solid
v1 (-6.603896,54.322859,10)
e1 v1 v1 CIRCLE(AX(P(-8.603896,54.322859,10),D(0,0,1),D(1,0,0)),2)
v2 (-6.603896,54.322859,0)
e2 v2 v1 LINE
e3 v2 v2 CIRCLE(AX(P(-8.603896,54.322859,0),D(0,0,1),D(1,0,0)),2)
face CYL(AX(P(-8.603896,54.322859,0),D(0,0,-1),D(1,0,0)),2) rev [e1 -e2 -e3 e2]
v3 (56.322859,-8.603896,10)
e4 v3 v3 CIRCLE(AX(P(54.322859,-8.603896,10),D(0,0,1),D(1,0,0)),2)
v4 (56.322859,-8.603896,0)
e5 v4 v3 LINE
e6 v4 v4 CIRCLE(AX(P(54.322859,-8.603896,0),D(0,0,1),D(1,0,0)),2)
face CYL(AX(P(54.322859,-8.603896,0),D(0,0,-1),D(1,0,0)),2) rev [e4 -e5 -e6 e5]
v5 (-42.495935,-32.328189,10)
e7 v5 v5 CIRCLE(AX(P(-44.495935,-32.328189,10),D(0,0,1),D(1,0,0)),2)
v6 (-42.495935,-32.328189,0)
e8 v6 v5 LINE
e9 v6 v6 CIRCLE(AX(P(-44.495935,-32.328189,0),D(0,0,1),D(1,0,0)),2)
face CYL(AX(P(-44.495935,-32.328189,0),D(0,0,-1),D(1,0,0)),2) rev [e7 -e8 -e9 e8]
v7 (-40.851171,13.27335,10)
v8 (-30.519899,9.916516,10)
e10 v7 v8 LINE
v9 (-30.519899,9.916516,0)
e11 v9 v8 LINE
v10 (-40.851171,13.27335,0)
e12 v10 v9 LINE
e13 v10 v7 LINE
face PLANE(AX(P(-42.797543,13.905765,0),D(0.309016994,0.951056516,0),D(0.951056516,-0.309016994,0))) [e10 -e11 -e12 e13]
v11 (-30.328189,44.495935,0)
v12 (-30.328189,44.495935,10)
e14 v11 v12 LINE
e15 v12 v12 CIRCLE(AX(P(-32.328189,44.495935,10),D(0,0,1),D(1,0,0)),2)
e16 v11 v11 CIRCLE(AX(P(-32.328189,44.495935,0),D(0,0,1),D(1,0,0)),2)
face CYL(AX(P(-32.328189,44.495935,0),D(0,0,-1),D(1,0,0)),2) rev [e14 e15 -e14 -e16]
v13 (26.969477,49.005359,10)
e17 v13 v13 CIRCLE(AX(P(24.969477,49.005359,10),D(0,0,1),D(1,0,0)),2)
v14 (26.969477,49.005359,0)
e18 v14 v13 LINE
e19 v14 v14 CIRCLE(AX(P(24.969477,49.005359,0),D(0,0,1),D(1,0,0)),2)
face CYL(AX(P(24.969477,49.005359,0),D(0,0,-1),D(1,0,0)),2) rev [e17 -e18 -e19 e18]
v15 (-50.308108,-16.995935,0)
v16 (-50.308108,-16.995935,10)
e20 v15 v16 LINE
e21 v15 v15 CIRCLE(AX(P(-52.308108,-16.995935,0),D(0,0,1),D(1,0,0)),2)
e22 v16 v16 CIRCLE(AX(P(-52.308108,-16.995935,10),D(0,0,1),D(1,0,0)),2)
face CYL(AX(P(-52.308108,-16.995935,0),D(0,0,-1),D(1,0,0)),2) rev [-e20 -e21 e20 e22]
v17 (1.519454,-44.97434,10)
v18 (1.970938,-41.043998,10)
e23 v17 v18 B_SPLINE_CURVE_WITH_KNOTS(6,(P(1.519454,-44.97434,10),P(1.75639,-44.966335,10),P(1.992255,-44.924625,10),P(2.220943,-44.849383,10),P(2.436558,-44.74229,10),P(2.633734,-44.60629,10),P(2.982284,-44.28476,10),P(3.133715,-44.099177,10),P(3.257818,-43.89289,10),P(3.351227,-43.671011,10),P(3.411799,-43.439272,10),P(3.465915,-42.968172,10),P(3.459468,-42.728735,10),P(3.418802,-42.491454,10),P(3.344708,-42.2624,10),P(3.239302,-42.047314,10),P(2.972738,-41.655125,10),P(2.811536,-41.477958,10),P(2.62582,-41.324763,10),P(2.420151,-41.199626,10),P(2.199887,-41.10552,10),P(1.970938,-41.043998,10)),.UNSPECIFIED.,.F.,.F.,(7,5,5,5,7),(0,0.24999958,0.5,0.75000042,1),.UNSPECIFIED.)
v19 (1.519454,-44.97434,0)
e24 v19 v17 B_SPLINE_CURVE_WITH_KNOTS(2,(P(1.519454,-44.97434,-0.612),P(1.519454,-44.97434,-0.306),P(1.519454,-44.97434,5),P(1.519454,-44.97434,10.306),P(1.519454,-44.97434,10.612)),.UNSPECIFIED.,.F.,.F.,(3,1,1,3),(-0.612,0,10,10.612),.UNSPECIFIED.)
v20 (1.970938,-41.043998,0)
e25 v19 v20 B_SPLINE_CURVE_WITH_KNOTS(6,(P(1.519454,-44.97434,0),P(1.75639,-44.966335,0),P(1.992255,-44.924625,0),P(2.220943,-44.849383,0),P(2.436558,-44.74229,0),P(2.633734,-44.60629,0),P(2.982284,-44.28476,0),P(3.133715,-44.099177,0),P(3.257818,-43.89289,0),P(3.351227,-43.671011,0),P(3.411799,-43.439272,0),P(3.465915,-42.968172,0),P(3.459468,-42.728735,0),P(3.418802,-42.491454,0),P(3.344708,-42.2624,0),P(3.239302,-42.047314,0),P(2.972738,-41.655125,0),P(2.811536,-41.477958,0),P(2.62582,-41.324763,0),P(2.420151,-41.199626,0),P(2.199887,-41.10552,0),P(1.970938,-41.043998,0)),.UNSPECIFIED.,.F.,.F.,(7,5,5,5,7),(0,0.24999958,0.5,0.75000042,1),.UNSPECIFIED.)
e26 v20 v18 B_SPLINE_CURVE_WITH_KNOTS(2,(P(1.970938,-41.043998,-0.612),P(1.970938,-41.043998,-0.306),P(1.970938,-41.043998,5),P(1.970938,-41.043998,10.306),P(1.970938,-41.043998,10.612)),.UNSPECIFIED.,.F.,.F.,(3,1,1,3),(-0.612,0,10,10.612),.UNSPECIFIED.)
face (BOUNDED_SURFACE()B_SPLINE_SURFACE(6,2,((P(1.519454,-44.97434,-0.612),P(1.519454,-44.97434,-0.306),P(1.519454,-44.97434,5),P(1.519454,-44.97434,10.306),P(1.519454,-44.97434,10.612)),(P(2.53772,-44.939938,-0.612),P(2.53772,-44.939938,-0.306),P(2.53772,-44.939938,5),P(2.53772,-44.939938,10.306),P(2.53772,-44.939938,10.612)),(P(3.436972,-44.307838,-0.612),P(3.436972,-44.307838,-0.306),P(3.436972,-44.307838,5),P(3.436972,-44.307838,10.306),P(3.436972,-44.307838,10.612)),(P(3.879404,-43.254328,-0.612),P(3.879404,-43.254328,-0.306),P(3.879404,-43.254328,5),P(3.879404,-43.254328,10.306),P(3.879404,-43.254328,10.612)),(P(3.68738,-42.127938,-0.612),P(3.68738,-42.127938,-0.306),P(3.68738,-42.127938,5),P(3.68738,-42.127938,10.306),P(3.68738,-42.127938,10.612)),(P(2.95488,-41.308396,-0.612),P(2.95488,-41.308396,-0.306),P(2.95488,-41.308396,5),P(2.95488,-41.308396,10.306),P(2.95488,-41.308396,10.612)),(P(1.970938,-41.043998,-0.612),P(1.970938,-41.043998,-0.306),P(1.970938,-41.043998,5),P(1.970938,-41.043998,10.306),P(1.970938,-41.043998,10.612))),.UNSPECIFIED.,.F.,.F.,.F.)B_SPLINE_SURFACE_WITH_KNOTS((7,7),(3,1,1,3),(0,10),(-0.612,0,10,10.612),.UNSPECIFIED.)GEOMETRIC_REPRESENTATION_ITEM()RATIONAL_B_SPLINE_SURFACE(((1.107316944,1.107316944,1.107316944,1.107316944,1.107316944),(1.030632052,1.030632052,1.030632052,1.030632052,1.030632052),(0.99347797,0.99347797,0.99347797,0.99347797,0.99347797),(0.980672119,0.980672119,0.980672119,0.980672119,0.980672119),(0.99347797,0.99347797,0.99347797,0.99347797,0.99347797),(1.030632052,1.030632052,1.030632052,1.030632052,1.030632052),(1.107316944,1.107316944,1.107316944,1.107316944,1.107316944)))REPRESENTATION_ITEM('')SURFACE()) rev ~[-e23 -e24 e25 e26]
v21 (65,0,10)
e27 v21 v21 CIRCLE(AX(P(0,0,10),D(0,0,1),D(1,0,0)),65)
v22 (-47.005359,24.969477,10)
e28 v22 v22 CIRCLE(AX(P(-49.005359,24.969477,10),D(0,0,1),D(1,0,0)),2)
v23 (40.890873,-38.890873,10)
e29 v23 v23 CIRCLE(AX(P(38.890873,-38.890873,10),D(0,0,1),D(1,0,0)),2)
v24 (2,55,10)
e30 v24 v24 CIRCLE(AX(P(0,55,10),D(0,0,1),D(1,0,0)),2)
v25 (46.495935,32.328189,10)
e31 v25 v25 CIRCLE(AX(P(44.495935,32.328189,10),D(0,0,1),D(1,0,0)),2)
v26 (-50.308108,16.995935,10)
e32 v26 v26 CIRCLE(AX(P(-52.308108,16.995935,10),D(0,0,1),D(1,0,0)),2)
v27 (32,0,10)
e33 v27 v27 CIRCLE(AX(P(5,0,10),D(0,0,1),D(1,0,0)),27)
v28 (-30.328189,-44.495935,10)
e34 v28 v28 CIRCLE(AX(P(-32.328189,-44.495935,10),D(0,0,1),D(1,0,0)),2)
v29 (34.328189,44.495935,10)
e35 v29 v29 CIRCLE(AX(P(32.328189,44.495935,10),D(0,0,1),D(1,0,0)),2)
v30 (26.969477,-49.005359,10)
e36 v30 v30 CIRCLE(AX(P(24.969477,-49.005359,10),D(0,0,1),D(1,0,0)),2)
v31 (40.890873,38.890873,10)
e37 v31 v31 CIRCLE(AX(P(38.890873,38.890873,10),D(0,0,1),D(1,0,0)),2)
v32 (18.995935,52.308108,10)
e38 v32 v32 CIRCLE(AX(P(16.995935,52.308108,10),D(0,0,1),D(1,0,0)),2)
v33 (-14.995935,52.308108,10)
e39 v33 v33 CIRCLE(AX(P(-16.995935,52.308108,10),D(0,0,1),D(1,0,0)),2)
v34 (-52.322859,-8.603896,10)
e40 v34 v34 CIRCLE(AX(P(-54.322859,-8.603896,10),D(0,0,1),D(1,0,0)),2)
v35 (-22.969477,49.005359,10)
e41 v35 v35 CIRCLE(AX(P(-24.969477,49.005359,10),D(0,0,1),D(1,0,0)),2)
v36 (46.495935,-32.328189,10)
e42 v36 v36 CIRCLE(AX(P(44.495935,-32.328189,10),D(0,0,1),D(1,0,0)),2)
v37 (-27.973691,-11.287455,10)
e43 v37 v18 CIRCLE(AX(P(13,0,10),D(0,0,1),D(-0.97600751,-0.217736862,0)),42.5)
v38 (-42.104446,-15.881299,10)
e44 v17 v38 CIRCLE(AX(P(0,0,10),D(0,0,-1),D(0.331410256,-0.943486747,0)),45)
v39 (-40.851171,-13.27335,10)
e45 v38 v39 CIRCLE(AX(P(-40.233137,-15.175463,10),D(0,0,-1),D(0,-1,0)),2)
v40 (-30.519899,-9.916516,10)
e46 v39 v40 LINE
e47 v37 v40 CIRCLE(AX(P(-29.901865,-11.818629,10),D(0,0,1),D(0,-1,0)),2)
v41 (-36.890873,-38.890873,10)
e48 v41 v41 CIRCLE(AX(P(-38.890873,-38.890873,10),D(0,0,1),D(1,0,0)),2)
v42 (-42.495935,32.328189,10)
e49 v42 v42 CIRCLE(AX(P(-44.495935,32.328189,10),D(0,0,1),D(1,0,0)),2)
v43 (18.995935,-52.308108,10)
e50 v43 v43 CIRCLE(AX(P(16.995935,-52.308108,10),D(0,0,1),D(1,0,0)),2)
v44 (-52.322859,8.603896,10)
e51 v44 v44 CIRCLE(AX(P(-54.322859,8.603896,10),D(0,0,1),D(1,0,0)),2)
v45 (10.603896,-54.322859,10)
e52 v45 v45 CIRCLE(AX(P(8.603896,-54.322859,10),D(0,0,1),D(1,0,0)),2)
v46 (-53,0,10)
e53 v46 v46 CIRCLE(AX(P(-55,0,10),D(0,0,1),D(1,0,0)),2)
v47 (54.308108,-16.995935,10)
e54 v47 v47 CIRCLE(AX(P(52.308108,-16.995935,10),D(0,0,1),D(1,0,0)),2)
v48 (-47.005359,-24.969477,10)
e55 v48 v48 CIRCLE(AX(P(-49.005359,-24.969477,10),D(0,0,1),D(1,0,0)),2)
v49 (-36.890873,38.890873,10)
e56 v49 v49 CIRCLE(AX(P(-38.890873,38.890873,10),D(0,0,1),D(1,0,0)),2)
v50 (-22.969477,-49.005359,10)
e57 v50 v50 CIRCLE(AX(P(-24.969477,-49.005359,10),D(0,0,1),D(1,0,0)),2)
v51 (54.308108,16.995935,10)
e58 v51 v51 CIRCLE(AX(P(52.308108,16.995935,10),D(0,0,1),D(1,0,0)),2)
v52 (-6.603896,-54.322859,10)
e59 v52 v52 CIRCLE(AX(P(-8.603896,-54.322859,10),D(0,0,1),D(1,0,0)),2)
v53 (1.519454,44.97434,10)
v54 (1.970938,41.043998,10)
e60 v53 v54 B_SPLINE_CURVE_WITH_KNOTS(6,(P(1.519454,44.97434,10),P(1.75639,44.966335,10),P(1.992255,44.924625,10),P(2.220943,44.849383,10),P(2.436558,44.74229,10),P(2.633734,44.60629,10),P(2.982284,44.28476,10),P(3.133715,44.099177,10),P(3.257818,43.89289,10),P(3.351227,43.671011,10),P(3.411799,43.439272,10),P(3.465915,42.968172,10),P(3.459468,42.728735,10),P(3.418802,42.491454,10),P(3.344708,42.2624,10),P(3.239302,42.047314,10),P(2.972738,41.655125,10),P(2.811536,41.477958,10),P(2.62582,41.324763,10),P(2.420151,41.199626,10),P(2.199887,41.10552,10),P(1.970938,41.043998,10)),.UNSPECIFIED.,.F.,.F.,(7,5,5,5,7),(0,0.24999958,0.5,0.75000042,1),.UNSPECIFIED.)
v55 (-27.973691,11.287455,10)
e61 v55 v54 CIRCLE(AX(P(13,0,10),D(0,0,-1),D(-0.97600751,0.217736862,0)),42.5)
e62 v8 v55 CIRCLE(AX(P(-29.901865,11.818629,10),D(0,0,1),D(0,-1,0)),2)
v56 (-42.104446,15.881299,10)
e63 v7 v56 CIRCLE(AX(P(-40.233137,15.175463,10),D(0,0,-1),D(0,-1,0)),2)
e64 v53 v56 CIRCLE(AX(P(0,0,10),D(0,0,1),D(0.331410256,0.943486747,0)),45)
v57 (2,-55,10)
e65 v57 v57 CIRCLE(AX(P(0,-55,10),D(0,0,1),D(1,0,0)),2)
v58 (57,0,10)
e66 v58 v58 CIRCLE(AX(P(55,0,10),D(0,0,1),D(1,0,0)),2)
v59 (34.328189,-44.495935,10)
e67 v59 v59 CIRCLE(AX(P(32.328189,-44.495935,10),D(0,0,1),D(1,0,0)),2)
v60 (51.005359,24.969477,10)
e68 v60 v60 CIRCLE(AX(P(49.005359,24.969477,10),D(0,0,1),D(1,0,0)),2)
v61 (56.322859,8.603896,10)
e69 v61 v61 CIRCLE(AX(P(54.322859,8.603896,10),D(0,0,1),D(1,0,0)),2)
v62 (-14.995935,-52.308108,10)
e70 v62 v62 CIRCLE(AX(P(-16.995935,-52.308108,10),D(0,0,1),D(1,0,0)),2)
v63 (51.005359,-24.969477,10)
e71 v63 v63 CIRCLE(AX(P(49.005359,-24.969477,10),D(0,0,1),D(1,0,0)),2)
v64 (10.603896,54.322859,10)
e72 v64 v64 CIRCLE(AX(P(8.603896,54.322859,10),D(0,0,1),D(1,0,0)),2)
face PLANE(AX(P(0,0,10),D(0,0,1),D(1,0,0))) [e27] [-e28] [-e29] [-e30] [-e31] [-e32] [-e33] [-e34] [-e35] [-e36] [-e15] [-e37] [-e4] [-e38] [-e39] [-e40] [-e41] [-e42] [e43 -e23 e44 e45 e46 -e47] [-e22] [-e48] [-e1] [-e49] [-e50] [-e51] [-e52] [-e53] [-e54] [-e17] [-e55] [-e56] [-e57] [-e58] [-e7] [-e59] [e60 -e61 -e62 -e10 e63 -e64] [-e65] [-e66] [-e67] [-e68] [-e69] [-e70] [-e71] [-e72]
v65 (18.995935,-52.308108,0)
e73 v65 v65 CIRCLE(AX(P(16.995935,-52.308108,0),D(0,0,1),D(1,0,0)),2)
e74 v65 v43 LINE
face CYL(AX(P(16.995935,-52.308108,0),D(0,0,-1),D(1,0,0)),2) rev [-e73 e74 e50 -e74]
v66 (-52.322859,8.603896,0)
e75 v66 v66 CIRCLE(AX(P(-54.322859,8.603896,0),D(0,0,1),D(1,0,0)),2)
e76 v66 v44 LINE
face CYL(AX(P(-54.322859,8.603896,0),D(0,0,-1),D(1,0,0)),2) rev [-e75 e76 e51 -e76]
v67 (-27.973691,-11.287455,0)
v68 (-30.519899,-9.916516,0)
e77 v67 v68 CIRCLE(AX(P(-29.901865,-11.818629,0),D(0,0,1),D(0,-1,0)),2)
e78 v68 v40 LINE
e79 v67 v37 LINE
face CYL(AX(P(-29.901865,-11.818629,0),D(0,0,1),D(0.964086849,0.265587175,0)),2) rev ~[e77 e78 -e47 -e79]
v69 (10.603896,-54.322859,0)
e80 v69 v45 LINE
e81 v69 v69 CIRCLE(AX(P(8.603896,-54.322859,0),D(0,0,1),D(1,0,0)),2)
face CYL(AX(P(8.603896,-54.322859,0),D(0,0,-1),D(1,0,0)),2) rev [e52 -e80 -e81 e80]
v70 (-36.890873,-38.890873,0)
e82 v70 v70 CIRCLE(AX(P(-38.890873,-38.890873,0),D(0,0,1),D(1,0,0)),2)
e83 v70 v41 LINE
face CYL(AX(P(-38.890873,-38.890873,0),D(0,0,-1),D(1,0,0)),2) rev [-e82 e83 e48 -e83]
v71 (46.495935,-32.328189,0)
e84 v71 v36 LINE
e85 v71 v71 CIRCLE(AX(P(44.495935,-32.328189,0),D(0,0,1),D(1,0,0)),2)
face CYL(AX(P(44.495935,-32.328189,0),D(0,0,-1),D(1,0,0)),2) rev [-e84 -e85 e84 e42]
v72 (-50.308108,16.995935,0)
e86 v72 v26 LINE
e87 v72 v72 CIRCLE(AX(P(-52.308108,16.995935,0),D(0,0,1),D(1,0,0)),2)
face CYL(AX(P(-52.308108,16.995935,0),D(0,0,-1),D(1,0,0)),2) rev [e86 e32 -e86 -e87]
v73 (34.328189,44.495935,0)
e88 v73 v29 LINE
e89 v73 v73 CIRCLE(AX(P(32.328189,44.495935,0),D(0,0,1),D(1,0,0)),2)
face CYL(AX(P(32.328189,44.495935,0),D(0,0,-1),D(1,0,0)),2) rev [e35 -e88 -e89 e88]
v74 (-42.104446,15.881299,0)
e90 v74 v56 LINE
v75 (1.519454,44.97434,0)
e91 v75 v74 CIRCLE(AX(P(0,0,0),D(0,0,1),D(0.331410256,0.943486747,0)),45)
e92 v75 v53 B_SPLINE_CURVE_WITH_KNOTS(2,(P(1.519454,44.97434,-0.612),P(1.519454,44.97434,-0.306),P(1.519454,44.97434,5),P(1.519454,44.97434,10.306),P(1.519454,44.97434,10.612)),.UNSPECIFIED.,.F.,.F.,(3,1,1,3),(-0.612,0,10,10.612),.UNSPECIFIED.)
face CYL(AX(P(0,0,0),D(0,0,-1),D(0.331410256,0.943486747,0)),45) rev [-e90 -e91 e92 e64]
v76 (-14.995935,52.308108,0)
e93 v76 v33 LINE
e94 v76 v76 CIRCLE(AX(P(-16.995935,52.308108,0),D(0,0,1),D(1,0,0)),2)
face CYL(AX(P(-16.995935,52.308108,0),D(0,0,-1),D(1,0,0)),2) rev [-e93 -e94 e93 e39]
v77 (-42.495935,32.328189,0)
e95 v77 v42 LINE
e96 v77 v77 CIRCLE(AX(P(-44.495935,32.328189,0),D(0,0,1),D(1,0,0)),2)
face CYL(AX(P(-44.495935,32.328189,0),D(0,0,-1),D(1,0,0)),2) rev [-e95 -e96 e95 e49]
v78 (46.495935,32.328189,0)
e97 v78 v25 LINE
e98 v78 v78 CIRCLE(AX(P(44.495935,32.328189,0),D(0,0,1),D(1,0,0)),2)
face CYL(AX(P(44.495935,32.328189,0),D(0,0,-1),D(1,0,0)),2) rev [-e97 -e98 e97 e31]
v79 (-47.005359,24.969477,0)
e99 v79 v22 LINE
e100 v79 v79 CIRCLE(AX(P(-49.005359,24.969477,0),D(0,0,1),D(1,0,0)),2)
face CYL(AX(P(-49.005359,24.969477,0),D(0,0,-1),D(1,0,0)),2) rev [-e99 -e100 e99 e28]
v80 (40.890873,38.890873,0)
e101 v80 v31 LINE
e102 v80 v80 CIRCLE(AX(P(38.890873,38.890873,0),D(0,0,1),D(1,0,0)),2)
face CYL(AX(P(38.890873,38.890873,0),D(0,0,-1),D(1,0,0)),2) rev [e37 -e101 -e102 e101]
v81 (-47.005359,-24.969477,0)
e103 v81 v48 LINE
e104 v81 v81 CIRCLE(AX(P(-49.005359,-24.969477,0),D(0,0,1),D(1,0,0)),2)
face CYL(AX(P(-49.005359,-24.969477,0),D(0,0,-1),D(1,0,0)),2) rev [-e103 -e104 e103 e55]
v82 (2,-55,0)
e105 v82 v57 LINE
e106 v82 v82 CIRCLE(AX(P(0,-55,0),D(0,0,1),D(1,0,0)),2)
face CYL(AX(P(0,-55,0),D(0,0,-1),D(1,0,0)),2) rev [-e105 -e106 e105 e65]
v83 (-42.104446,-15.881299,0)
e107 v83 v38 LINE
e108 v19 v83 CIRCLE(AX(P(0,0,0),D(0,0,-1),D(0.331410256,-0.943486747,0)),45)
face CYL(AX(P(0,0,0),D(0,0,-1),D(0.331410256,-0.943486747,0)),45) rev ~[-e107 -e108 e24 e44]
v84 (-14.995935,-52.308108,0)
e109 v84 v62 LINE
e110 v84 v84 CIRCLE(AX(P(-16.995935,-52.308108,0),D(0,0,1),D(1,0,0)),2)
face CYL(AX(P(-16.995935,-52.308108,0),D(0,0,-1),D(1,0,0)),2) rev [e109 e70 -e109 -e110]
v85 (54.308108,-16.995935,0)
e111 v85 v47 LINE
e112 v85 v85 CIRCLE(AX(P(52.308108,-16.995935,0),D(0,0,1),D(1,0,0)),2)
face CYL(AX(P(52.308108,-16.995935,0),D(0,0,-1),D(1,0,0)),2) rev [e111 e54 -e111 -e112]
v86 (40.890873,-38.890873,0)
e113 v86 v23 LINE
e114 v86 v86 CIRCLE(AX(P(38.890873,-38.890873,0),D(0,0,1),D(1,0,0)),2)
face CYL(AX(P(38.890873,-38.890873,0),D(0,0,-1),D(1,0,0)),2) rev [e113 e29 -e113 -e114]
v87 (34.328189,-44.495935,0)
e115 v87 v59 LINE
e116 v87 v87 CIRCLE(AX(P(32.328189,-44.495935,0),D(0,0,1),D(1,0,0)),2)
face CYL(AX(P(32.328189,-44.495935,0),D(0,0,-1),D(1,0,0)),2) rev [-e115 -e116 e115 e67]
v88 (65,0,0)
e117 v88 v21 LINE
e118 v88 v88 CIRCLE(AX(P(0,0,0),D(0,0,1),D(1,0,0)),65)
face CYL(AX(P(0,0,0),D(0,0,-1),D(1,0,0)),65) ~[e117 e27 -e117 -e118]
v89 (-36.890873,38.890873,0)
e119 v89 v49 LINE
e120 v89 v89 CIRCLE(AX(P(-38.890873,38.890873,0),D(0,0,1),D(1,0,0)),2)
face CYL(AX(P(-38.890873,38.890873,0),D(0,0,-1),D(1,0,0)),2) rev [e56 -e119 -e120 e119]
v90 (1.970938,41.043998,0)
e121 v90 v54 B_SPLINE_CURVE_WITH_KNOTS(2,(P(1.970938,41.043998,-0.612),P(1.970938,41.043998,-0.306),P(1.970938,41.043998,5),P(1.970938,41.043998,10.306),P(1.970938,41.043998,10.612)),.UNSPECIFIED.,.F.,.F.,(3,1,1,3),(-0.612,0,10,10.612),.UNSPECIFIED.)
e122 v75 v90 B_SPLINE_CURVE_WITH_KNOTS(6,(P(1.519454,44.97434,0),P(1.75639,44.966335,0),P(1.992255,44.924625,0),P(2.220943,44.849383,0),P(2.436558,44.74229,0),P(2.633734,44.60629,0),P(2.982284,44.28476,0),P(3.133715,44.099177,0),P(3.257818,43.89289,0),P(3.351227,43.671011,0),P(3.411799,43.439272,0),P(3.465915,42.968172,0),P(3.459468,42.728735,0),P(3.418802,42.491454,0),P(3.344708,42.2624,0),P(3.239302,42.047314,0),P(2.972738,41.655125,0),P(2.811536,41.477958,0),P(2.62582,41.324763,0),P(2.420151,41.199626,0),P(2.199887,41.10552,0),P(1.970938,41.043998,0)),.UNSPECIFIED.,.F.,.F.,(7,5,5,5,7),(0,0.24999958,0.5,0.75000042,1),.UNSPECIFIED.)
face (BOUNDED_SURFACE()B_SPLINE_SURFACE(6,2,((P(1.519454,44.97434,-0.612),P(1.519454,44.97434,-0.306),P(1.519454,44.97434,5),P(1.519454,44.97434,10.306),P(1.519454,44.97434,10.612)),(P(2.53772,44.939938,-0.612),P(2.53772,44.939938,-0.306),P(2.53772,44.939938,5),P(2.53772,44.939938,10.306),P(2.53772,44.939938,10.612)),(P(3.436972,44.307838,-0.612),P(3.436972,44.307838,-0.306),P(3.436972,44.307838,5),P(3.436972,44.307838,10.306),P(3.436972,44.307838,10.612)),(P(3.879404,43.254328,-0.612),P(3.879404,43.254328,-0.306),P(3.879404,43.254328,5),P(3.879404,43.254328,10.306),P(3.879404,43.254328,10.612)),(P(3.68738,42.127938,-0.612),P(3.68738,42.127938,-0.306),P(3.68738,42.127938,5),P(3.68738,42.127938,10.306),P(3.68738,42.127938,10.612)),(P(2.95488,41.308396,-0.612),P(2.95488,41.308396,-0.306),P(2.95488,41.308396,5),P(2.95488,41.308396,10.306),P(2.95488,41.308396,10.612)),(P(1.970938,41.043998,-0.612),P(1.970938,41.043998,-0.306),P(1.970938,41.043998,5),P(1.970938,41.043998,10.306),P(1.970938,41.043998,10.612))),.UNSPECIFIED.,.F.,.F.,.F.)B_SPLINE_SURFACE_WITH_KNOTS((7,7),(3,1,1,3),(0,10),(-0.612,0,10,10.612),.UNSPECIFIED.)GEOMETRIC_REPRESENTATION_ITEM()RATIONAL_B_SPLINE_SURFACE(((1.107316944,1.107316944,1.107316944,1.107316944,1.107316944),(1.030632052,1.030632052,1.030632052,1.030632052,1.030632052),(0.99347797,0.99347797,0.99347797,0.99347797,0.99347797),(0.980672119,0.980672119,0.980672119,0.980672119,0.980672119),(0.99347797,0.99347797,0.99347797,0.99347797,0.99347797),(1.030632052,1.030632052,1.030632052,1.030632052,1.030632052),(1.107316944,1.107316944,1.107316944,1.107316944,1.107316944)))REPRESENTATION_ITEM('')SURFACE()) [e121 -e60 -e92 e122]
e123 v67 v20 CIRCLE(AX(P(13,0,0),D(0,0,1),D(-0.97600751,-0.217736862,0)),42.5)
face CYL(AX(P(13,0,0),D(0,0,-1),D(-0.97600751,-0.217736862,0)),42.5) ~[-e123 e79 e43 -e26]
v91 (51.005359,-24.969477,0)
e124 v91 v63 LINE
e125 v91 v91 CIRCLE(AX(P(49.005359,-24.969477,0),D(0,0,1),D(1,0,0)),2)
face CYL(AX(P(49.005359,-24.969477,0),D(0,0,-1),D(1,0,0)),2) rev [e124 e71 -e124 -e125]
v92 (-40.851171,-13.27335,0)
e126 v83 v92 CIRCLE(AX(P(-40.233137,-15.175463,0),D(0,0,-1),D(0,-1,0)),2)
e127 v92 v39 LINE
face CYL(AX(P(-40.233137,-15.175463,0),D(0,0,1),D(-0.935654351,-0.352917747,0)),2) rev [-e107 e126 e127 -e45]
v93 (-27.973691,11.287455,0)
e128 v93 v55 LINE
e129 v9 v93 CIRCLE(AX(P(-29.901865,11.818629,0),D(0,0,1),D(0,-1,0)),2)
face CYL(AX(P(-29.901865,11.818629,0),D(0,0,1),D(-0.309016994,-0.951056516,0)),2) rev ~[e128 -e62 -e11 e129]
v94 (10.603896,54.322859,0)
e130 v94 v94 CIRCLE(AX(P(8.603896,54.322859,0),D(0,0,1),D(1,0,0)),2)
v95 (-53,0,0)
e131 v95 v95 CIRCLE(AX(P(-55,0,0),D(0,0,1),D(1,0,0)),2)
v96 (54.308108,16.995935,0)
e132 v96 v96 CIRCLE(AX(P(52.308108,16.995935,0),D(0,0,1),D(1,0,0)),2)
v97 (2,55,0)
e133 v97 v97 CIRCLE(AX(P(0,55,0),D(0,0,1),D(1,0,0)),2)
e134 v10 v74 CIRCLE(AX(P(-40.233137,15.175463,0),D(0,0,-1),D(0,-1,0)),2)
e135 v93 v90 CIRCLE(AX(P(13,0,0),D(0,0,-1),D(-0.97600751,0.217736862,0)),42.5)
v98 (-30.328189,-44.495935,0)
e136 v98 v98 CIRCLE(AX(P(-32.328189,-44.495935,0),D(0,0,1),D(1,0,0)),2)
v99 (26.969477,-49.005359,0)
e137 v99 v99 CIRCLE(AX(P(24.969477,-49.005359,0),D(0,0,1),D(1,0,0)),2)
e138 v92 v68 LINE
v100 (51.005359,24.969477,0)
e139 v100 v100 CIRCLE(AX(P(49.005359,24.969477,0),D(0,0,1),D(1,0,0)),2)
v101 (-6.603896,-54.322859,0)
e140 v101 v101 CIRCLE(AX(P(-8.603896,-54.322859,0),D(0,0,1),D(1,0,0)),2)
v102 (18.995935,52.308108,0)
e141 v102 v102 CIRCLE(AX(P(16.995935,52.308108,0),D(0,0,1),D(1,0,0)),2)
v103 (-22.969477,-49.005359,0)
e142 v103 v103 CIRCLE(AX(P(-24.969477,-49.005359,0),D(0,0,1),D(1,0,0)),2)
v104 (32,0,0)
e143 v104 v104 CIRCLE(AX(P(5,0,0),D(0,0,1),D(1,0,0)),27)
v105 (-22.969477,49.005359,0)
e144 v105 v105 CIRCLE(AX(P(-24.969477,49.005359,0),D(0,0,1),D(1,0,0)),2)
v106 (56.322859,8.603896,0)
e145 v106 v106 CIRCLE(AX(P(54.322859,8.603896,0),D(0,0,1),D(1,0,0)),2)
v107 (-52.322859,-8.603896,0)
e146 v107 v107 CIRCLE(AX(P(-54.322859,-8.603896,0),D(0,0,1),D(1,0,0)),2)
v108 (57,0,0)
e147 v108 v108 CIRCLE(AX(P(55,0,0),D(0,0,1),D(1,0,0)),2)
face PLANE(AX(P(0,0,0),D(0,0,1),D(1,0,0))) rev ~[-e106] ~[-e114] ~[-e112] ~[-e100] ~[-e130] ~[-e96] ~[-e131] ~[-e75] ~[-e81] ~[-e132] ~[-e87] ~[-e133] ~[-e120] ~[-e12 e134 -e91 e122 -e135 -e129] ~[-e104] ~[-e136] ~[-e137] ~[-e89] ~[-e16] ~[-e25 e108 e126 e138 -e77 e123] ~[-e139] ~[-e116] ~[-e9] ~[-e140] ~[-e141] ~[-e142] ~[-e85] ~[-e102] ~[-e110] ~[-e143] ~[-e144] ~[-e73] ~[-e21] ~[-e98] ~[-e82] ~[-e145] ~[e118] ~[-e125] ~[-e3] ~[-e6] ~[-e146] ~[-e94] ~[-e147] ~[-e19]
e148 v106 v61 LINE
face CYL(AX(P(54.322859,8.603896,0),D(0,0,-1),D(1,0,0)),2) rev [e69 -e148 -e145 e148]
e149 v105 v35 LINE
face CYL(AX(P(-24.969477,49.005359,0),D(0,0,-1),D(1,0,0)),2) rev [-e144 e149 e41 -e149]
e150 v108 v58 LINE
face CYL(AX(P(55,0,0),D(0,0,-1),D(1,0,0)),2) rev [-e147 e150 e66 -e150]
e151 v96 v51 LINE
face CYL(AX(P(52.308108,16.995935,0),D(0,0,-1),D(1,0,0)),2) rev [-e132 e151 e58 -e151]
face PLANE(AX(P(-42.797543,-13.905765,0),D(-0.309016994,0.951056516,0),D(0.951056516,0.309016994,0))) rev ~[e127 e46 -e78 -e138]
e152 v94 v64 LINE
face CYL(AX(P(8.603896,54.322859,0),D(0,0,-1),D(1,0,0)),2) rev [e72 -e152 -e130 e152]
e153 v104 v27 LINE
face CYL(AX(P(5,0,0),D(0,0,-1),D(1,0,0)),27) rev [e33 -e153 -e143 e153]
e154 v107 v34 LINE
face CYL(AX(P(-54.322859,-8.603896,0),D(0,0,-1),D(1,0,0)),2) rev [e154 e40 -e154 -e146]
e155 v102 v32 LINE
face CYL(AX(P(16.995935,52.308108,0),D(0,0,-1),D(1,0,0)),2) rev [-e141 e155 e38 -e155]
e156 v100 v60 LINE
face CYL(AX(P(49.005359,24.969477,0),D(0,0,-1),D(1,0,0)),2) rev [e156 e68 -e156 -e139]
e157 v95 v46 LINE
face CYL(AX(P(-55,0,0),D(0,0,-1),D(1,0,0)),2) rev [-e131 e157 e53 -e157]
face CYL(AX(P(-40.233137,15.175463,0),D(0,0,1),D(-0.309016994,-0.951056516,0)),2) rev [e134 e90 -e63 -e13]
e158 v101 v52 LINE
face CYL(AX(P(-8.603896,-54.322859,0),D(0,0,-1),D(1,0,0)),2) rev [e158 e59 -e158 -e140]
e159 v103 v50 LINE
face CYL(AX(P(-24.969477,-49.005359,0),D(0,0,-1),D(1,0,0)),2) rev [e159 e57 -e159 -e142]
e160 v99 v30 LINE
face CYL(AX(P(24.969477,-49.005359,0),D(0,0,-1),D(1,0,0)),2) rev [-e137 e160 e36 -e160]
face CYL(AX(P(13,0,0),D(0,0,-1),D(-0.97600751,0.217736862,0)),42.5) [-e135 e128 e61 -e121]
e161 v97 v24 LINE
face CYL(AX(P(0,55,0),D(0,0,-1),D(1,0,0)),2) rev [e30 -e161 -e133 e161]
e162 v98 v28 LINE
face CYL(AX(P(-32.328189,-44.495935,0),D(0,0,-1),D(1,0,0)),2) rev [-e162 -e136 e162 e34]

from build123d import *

# Parameters (mm, degrees)
SKETCH_5_R      = 65
SKETCH_5_R_2    = 2
SKETCH_5_R_3    = 27
EXTRUDE_3_DEPTH = 10
FILLET_1_R      = 2


with BuildPart() as part:
    # 草图5 → 凸台-拉伸3 (new body)
    with BuildSketch(Plane.XY):
        Circle(SKETCH_5_R)
        with Locations((55, 0)):
            Circle(SKETCH_5_R_2, mode=Mode.SUBTRACT)
        with Locations((54.322858733, -8.603895577)):
            Circle(SKETCH_5_R_2, mode=Mode.SUBTRACT)
        with Locations((52.308108396, -16.995934691)):
            Circle(SKETCH_5_R_2, mode=Mode.SUBTRACT)
        with Locations((49.00535883, -24.969477486)):
            Circle(SKETCH_5_R_2, mode=Mode.SUBTRACT)
        with Locations((44.495934691, -32.328188876)):
            Circle(SKETCH_5_R_2, mode=Mode.SUBTRACT)
        with Locations((38.890872965, -38.890872965)):
            Circle(SKETCH_5_R_2, mode=Mode.SUBTRACT)
        with Locations((32.328188876, -44.495934691)):
            Circle(SKETCH_5_R_2, mode=Mode.SUBTRACT)
        with Locations((24.969477486, -49.00535883)):
            Circle(SKETCH_5_R_2, mode=Mode.SUBTRACT)
        with Locations((16.995934691, -52.308108396)):
            Circle(SKETCH_5_R_2, mode=Mode.SUBTRACT)
        with Locations((8.603895577, -54.322858733)):
            Circle(SKETCH_5_R_2, mode=Mode.SUBTRACT)
        with Locations((0, -55)):
            Circle(SKETCH_5_R_2, mode=Mode.SUBTRACT)
        with Locations((-8.603895577, -54.322858733)):
            Circle(SKETCH_5_R_2, mode=Mode.SUBTRACT)
        with Locations((-16.995934691, -52.308108396)):
            Circle(SKETCH_5_R_2, mode=Mode.SUBTRACT)
        with Locations((-24.969477486, -49.00535883)):
            Circle(SKETCH_5_R_2, mode=Mode.SUBTRACT)
        with Locations((-32.328188876, -44.495934691)):
            Circle(SKETCH_5_R_2, mode=Mode.SUBTRACT)
        with Locations((-38.890872965, -38.890872965)):
            Circle(SKETCH_5_R_2, mode=Mode.SUBTRACT)
        with Locations((-44.495934691, -32.328188876)):
            Circle(SKETCH_5_R_2, mode=Mode.SUBTRACT)
        with Locations((-49.00535883, -24.969477486)):
            Circle(SKETCH_5_R_2, mode=Mode.SUBTRACT)
        with Locations((-52.308108396, -16.995934691)):
            Circle(SKETCH_5_R_2, mode=Mode.SUBTRACT)
        with Locations((-54.322858733, -8.603895577)):
            Circle(SKETCH_5_R_2, mode=Mode.SUBTRACT)
        with Locations((-55, 0)):
            Circle(SKETCH_5_R_2, mode=Mode.SUBTRACT)
        with Locations((-54.322858733, 8.603895577)):
            Circle(SKETCH_5_R_2, mode=Mode.SUBTRACT)
        with Locations((-52.308108396, 16.995934691)):
            Circle(SKETCH_5_R_2, mode=Mode.SUBTRACT)
        with Locations((-49.00535883, 24.969477486)):
            Circle(SKETCH_5_R_2, mode=Mode.SUBTRACT)
        with Locations((-44.495934691, 32.328188876)):
            Circle(SKETCH_5_R_2, mode=Mode.SUBTRACT)
        with Locations((-38.890872965, 38.890872965)):
            Circle(SKETCH_5_R_2, mode=Mode.SUBTRACT)
        with Locations((-32.328188876, 44.495934691)):
            Circle(SKETCH_5_R_2, mode=Mode.SUBTRACT)
        with Locations((-24.969477486, 49.00535883)):
            Circle(SKETCH_5_R_2, mode=Mode.SUBTRACT)
        with Locations((-16.995934691, 52.308108396)):
            Circle(SKETCH_5_R_2, mode=Mode.SUBTRACT)
        with Locations((-8.603895577, 54.322858733)):
            Circle(SKETCH_5_R_2, mode=Mode.SUBTRACT)
        with Locations((0, 55)):
            Circle(SKETCH_5_R_2, mode=Mode.SUBTRACT)
        with Locations((8.603895577, 54.322858733)):
            Circle(SKETCH_5_R_2, mode=Mode.SUBTRACT)
        with Locations((16.995934691, 52.308108396)):
            Circle(SKETCH_5_R_2, mode=Mode.SUBTRACT)
        with Locations((24.969477486, 49.00535883)):
            Circle(SKETCH_5_R_2, mode=Mode.SUBTRACT)
        with Locations((32.328188876, 44.495934691)):
            Circle(SKETCH_5_R_2, mode=Mode.SUBTRACT)
        with Locations((38.890872965, 38.890872965)):
            Circle(SKETCH_5_R_2, mode=Mode.SUBTRACT)
        with Locations((44.495934691, 32.328188876)):
            Circle(SKETCH_5_R_2, mode=Mode.SUBTRACT)
        with Locations((49.00535883, 24.969477486)):
            Circle(SKETCH_5_R_2, mode=Mode.SUBTRACT)
        with Locations((52.308108396, 16.995934691)):
            Circle(SKETCH_5_R_2, mode=Mode.SUBTRACT)
        with Locations((54.322858733, 8.603895577)):
            Circle(SKETCH_5_R_2, mode=Mode.SUBTRACT)
        with Locations((5, 0)):
            Circle(SKETCH_5_R_3, mode=Mode.SUBTRACT)
        with BuildLine():
            Line((-42.797543233, 13.905764747), (-28.480319158, 9.253816649))
            ThreePointArc((-28.480319158, 9.253816649), (-12.826252178, 33.752847264), (14.913461538, 42.456903619))
            ThreePointArc((14.913461538, 42.456903619), (-19.954257333, 40.333951136), (-42.797543233, 13.905764747))
        make_face(mode=Mode.SUBTRACT)
        with BuildLine():
            Line((-42.797543233, -13.905764747), (-28.480319158, -9.253816649))
            ThreePointArc((-28.480319158, -9.253816649), (-12.826252178, -33.752847264), (14.913461538, -42.456903619))
            ThreePointArc((14.913461538, -42.456903619), (-19.954257333, -40.333951136), (-42.797543233, -13.905764747))
        make_face(mode=Mode.SUBTRACT)
    extrude(amount=EXTRUDE_3_DEPTH)

    # 圆角1
    fillet_1_edges = [part.edges().sort_by_distance(p)[0] for p in [
        (-42.797543233, 13.905764747, 5),
        (-28.480319158, 9.253816649, 5),
        (14.913461538, 42.456903619, 5),
        (-28.480319158, -9.253816649, 5),
        (-42.797543233, -13.905764747, 5),
        (14.913461538, -42.456903619, 5),
    ]]
    fillet(fillet_1_edges, radius=FILLET_1_R)


solid = part.part
